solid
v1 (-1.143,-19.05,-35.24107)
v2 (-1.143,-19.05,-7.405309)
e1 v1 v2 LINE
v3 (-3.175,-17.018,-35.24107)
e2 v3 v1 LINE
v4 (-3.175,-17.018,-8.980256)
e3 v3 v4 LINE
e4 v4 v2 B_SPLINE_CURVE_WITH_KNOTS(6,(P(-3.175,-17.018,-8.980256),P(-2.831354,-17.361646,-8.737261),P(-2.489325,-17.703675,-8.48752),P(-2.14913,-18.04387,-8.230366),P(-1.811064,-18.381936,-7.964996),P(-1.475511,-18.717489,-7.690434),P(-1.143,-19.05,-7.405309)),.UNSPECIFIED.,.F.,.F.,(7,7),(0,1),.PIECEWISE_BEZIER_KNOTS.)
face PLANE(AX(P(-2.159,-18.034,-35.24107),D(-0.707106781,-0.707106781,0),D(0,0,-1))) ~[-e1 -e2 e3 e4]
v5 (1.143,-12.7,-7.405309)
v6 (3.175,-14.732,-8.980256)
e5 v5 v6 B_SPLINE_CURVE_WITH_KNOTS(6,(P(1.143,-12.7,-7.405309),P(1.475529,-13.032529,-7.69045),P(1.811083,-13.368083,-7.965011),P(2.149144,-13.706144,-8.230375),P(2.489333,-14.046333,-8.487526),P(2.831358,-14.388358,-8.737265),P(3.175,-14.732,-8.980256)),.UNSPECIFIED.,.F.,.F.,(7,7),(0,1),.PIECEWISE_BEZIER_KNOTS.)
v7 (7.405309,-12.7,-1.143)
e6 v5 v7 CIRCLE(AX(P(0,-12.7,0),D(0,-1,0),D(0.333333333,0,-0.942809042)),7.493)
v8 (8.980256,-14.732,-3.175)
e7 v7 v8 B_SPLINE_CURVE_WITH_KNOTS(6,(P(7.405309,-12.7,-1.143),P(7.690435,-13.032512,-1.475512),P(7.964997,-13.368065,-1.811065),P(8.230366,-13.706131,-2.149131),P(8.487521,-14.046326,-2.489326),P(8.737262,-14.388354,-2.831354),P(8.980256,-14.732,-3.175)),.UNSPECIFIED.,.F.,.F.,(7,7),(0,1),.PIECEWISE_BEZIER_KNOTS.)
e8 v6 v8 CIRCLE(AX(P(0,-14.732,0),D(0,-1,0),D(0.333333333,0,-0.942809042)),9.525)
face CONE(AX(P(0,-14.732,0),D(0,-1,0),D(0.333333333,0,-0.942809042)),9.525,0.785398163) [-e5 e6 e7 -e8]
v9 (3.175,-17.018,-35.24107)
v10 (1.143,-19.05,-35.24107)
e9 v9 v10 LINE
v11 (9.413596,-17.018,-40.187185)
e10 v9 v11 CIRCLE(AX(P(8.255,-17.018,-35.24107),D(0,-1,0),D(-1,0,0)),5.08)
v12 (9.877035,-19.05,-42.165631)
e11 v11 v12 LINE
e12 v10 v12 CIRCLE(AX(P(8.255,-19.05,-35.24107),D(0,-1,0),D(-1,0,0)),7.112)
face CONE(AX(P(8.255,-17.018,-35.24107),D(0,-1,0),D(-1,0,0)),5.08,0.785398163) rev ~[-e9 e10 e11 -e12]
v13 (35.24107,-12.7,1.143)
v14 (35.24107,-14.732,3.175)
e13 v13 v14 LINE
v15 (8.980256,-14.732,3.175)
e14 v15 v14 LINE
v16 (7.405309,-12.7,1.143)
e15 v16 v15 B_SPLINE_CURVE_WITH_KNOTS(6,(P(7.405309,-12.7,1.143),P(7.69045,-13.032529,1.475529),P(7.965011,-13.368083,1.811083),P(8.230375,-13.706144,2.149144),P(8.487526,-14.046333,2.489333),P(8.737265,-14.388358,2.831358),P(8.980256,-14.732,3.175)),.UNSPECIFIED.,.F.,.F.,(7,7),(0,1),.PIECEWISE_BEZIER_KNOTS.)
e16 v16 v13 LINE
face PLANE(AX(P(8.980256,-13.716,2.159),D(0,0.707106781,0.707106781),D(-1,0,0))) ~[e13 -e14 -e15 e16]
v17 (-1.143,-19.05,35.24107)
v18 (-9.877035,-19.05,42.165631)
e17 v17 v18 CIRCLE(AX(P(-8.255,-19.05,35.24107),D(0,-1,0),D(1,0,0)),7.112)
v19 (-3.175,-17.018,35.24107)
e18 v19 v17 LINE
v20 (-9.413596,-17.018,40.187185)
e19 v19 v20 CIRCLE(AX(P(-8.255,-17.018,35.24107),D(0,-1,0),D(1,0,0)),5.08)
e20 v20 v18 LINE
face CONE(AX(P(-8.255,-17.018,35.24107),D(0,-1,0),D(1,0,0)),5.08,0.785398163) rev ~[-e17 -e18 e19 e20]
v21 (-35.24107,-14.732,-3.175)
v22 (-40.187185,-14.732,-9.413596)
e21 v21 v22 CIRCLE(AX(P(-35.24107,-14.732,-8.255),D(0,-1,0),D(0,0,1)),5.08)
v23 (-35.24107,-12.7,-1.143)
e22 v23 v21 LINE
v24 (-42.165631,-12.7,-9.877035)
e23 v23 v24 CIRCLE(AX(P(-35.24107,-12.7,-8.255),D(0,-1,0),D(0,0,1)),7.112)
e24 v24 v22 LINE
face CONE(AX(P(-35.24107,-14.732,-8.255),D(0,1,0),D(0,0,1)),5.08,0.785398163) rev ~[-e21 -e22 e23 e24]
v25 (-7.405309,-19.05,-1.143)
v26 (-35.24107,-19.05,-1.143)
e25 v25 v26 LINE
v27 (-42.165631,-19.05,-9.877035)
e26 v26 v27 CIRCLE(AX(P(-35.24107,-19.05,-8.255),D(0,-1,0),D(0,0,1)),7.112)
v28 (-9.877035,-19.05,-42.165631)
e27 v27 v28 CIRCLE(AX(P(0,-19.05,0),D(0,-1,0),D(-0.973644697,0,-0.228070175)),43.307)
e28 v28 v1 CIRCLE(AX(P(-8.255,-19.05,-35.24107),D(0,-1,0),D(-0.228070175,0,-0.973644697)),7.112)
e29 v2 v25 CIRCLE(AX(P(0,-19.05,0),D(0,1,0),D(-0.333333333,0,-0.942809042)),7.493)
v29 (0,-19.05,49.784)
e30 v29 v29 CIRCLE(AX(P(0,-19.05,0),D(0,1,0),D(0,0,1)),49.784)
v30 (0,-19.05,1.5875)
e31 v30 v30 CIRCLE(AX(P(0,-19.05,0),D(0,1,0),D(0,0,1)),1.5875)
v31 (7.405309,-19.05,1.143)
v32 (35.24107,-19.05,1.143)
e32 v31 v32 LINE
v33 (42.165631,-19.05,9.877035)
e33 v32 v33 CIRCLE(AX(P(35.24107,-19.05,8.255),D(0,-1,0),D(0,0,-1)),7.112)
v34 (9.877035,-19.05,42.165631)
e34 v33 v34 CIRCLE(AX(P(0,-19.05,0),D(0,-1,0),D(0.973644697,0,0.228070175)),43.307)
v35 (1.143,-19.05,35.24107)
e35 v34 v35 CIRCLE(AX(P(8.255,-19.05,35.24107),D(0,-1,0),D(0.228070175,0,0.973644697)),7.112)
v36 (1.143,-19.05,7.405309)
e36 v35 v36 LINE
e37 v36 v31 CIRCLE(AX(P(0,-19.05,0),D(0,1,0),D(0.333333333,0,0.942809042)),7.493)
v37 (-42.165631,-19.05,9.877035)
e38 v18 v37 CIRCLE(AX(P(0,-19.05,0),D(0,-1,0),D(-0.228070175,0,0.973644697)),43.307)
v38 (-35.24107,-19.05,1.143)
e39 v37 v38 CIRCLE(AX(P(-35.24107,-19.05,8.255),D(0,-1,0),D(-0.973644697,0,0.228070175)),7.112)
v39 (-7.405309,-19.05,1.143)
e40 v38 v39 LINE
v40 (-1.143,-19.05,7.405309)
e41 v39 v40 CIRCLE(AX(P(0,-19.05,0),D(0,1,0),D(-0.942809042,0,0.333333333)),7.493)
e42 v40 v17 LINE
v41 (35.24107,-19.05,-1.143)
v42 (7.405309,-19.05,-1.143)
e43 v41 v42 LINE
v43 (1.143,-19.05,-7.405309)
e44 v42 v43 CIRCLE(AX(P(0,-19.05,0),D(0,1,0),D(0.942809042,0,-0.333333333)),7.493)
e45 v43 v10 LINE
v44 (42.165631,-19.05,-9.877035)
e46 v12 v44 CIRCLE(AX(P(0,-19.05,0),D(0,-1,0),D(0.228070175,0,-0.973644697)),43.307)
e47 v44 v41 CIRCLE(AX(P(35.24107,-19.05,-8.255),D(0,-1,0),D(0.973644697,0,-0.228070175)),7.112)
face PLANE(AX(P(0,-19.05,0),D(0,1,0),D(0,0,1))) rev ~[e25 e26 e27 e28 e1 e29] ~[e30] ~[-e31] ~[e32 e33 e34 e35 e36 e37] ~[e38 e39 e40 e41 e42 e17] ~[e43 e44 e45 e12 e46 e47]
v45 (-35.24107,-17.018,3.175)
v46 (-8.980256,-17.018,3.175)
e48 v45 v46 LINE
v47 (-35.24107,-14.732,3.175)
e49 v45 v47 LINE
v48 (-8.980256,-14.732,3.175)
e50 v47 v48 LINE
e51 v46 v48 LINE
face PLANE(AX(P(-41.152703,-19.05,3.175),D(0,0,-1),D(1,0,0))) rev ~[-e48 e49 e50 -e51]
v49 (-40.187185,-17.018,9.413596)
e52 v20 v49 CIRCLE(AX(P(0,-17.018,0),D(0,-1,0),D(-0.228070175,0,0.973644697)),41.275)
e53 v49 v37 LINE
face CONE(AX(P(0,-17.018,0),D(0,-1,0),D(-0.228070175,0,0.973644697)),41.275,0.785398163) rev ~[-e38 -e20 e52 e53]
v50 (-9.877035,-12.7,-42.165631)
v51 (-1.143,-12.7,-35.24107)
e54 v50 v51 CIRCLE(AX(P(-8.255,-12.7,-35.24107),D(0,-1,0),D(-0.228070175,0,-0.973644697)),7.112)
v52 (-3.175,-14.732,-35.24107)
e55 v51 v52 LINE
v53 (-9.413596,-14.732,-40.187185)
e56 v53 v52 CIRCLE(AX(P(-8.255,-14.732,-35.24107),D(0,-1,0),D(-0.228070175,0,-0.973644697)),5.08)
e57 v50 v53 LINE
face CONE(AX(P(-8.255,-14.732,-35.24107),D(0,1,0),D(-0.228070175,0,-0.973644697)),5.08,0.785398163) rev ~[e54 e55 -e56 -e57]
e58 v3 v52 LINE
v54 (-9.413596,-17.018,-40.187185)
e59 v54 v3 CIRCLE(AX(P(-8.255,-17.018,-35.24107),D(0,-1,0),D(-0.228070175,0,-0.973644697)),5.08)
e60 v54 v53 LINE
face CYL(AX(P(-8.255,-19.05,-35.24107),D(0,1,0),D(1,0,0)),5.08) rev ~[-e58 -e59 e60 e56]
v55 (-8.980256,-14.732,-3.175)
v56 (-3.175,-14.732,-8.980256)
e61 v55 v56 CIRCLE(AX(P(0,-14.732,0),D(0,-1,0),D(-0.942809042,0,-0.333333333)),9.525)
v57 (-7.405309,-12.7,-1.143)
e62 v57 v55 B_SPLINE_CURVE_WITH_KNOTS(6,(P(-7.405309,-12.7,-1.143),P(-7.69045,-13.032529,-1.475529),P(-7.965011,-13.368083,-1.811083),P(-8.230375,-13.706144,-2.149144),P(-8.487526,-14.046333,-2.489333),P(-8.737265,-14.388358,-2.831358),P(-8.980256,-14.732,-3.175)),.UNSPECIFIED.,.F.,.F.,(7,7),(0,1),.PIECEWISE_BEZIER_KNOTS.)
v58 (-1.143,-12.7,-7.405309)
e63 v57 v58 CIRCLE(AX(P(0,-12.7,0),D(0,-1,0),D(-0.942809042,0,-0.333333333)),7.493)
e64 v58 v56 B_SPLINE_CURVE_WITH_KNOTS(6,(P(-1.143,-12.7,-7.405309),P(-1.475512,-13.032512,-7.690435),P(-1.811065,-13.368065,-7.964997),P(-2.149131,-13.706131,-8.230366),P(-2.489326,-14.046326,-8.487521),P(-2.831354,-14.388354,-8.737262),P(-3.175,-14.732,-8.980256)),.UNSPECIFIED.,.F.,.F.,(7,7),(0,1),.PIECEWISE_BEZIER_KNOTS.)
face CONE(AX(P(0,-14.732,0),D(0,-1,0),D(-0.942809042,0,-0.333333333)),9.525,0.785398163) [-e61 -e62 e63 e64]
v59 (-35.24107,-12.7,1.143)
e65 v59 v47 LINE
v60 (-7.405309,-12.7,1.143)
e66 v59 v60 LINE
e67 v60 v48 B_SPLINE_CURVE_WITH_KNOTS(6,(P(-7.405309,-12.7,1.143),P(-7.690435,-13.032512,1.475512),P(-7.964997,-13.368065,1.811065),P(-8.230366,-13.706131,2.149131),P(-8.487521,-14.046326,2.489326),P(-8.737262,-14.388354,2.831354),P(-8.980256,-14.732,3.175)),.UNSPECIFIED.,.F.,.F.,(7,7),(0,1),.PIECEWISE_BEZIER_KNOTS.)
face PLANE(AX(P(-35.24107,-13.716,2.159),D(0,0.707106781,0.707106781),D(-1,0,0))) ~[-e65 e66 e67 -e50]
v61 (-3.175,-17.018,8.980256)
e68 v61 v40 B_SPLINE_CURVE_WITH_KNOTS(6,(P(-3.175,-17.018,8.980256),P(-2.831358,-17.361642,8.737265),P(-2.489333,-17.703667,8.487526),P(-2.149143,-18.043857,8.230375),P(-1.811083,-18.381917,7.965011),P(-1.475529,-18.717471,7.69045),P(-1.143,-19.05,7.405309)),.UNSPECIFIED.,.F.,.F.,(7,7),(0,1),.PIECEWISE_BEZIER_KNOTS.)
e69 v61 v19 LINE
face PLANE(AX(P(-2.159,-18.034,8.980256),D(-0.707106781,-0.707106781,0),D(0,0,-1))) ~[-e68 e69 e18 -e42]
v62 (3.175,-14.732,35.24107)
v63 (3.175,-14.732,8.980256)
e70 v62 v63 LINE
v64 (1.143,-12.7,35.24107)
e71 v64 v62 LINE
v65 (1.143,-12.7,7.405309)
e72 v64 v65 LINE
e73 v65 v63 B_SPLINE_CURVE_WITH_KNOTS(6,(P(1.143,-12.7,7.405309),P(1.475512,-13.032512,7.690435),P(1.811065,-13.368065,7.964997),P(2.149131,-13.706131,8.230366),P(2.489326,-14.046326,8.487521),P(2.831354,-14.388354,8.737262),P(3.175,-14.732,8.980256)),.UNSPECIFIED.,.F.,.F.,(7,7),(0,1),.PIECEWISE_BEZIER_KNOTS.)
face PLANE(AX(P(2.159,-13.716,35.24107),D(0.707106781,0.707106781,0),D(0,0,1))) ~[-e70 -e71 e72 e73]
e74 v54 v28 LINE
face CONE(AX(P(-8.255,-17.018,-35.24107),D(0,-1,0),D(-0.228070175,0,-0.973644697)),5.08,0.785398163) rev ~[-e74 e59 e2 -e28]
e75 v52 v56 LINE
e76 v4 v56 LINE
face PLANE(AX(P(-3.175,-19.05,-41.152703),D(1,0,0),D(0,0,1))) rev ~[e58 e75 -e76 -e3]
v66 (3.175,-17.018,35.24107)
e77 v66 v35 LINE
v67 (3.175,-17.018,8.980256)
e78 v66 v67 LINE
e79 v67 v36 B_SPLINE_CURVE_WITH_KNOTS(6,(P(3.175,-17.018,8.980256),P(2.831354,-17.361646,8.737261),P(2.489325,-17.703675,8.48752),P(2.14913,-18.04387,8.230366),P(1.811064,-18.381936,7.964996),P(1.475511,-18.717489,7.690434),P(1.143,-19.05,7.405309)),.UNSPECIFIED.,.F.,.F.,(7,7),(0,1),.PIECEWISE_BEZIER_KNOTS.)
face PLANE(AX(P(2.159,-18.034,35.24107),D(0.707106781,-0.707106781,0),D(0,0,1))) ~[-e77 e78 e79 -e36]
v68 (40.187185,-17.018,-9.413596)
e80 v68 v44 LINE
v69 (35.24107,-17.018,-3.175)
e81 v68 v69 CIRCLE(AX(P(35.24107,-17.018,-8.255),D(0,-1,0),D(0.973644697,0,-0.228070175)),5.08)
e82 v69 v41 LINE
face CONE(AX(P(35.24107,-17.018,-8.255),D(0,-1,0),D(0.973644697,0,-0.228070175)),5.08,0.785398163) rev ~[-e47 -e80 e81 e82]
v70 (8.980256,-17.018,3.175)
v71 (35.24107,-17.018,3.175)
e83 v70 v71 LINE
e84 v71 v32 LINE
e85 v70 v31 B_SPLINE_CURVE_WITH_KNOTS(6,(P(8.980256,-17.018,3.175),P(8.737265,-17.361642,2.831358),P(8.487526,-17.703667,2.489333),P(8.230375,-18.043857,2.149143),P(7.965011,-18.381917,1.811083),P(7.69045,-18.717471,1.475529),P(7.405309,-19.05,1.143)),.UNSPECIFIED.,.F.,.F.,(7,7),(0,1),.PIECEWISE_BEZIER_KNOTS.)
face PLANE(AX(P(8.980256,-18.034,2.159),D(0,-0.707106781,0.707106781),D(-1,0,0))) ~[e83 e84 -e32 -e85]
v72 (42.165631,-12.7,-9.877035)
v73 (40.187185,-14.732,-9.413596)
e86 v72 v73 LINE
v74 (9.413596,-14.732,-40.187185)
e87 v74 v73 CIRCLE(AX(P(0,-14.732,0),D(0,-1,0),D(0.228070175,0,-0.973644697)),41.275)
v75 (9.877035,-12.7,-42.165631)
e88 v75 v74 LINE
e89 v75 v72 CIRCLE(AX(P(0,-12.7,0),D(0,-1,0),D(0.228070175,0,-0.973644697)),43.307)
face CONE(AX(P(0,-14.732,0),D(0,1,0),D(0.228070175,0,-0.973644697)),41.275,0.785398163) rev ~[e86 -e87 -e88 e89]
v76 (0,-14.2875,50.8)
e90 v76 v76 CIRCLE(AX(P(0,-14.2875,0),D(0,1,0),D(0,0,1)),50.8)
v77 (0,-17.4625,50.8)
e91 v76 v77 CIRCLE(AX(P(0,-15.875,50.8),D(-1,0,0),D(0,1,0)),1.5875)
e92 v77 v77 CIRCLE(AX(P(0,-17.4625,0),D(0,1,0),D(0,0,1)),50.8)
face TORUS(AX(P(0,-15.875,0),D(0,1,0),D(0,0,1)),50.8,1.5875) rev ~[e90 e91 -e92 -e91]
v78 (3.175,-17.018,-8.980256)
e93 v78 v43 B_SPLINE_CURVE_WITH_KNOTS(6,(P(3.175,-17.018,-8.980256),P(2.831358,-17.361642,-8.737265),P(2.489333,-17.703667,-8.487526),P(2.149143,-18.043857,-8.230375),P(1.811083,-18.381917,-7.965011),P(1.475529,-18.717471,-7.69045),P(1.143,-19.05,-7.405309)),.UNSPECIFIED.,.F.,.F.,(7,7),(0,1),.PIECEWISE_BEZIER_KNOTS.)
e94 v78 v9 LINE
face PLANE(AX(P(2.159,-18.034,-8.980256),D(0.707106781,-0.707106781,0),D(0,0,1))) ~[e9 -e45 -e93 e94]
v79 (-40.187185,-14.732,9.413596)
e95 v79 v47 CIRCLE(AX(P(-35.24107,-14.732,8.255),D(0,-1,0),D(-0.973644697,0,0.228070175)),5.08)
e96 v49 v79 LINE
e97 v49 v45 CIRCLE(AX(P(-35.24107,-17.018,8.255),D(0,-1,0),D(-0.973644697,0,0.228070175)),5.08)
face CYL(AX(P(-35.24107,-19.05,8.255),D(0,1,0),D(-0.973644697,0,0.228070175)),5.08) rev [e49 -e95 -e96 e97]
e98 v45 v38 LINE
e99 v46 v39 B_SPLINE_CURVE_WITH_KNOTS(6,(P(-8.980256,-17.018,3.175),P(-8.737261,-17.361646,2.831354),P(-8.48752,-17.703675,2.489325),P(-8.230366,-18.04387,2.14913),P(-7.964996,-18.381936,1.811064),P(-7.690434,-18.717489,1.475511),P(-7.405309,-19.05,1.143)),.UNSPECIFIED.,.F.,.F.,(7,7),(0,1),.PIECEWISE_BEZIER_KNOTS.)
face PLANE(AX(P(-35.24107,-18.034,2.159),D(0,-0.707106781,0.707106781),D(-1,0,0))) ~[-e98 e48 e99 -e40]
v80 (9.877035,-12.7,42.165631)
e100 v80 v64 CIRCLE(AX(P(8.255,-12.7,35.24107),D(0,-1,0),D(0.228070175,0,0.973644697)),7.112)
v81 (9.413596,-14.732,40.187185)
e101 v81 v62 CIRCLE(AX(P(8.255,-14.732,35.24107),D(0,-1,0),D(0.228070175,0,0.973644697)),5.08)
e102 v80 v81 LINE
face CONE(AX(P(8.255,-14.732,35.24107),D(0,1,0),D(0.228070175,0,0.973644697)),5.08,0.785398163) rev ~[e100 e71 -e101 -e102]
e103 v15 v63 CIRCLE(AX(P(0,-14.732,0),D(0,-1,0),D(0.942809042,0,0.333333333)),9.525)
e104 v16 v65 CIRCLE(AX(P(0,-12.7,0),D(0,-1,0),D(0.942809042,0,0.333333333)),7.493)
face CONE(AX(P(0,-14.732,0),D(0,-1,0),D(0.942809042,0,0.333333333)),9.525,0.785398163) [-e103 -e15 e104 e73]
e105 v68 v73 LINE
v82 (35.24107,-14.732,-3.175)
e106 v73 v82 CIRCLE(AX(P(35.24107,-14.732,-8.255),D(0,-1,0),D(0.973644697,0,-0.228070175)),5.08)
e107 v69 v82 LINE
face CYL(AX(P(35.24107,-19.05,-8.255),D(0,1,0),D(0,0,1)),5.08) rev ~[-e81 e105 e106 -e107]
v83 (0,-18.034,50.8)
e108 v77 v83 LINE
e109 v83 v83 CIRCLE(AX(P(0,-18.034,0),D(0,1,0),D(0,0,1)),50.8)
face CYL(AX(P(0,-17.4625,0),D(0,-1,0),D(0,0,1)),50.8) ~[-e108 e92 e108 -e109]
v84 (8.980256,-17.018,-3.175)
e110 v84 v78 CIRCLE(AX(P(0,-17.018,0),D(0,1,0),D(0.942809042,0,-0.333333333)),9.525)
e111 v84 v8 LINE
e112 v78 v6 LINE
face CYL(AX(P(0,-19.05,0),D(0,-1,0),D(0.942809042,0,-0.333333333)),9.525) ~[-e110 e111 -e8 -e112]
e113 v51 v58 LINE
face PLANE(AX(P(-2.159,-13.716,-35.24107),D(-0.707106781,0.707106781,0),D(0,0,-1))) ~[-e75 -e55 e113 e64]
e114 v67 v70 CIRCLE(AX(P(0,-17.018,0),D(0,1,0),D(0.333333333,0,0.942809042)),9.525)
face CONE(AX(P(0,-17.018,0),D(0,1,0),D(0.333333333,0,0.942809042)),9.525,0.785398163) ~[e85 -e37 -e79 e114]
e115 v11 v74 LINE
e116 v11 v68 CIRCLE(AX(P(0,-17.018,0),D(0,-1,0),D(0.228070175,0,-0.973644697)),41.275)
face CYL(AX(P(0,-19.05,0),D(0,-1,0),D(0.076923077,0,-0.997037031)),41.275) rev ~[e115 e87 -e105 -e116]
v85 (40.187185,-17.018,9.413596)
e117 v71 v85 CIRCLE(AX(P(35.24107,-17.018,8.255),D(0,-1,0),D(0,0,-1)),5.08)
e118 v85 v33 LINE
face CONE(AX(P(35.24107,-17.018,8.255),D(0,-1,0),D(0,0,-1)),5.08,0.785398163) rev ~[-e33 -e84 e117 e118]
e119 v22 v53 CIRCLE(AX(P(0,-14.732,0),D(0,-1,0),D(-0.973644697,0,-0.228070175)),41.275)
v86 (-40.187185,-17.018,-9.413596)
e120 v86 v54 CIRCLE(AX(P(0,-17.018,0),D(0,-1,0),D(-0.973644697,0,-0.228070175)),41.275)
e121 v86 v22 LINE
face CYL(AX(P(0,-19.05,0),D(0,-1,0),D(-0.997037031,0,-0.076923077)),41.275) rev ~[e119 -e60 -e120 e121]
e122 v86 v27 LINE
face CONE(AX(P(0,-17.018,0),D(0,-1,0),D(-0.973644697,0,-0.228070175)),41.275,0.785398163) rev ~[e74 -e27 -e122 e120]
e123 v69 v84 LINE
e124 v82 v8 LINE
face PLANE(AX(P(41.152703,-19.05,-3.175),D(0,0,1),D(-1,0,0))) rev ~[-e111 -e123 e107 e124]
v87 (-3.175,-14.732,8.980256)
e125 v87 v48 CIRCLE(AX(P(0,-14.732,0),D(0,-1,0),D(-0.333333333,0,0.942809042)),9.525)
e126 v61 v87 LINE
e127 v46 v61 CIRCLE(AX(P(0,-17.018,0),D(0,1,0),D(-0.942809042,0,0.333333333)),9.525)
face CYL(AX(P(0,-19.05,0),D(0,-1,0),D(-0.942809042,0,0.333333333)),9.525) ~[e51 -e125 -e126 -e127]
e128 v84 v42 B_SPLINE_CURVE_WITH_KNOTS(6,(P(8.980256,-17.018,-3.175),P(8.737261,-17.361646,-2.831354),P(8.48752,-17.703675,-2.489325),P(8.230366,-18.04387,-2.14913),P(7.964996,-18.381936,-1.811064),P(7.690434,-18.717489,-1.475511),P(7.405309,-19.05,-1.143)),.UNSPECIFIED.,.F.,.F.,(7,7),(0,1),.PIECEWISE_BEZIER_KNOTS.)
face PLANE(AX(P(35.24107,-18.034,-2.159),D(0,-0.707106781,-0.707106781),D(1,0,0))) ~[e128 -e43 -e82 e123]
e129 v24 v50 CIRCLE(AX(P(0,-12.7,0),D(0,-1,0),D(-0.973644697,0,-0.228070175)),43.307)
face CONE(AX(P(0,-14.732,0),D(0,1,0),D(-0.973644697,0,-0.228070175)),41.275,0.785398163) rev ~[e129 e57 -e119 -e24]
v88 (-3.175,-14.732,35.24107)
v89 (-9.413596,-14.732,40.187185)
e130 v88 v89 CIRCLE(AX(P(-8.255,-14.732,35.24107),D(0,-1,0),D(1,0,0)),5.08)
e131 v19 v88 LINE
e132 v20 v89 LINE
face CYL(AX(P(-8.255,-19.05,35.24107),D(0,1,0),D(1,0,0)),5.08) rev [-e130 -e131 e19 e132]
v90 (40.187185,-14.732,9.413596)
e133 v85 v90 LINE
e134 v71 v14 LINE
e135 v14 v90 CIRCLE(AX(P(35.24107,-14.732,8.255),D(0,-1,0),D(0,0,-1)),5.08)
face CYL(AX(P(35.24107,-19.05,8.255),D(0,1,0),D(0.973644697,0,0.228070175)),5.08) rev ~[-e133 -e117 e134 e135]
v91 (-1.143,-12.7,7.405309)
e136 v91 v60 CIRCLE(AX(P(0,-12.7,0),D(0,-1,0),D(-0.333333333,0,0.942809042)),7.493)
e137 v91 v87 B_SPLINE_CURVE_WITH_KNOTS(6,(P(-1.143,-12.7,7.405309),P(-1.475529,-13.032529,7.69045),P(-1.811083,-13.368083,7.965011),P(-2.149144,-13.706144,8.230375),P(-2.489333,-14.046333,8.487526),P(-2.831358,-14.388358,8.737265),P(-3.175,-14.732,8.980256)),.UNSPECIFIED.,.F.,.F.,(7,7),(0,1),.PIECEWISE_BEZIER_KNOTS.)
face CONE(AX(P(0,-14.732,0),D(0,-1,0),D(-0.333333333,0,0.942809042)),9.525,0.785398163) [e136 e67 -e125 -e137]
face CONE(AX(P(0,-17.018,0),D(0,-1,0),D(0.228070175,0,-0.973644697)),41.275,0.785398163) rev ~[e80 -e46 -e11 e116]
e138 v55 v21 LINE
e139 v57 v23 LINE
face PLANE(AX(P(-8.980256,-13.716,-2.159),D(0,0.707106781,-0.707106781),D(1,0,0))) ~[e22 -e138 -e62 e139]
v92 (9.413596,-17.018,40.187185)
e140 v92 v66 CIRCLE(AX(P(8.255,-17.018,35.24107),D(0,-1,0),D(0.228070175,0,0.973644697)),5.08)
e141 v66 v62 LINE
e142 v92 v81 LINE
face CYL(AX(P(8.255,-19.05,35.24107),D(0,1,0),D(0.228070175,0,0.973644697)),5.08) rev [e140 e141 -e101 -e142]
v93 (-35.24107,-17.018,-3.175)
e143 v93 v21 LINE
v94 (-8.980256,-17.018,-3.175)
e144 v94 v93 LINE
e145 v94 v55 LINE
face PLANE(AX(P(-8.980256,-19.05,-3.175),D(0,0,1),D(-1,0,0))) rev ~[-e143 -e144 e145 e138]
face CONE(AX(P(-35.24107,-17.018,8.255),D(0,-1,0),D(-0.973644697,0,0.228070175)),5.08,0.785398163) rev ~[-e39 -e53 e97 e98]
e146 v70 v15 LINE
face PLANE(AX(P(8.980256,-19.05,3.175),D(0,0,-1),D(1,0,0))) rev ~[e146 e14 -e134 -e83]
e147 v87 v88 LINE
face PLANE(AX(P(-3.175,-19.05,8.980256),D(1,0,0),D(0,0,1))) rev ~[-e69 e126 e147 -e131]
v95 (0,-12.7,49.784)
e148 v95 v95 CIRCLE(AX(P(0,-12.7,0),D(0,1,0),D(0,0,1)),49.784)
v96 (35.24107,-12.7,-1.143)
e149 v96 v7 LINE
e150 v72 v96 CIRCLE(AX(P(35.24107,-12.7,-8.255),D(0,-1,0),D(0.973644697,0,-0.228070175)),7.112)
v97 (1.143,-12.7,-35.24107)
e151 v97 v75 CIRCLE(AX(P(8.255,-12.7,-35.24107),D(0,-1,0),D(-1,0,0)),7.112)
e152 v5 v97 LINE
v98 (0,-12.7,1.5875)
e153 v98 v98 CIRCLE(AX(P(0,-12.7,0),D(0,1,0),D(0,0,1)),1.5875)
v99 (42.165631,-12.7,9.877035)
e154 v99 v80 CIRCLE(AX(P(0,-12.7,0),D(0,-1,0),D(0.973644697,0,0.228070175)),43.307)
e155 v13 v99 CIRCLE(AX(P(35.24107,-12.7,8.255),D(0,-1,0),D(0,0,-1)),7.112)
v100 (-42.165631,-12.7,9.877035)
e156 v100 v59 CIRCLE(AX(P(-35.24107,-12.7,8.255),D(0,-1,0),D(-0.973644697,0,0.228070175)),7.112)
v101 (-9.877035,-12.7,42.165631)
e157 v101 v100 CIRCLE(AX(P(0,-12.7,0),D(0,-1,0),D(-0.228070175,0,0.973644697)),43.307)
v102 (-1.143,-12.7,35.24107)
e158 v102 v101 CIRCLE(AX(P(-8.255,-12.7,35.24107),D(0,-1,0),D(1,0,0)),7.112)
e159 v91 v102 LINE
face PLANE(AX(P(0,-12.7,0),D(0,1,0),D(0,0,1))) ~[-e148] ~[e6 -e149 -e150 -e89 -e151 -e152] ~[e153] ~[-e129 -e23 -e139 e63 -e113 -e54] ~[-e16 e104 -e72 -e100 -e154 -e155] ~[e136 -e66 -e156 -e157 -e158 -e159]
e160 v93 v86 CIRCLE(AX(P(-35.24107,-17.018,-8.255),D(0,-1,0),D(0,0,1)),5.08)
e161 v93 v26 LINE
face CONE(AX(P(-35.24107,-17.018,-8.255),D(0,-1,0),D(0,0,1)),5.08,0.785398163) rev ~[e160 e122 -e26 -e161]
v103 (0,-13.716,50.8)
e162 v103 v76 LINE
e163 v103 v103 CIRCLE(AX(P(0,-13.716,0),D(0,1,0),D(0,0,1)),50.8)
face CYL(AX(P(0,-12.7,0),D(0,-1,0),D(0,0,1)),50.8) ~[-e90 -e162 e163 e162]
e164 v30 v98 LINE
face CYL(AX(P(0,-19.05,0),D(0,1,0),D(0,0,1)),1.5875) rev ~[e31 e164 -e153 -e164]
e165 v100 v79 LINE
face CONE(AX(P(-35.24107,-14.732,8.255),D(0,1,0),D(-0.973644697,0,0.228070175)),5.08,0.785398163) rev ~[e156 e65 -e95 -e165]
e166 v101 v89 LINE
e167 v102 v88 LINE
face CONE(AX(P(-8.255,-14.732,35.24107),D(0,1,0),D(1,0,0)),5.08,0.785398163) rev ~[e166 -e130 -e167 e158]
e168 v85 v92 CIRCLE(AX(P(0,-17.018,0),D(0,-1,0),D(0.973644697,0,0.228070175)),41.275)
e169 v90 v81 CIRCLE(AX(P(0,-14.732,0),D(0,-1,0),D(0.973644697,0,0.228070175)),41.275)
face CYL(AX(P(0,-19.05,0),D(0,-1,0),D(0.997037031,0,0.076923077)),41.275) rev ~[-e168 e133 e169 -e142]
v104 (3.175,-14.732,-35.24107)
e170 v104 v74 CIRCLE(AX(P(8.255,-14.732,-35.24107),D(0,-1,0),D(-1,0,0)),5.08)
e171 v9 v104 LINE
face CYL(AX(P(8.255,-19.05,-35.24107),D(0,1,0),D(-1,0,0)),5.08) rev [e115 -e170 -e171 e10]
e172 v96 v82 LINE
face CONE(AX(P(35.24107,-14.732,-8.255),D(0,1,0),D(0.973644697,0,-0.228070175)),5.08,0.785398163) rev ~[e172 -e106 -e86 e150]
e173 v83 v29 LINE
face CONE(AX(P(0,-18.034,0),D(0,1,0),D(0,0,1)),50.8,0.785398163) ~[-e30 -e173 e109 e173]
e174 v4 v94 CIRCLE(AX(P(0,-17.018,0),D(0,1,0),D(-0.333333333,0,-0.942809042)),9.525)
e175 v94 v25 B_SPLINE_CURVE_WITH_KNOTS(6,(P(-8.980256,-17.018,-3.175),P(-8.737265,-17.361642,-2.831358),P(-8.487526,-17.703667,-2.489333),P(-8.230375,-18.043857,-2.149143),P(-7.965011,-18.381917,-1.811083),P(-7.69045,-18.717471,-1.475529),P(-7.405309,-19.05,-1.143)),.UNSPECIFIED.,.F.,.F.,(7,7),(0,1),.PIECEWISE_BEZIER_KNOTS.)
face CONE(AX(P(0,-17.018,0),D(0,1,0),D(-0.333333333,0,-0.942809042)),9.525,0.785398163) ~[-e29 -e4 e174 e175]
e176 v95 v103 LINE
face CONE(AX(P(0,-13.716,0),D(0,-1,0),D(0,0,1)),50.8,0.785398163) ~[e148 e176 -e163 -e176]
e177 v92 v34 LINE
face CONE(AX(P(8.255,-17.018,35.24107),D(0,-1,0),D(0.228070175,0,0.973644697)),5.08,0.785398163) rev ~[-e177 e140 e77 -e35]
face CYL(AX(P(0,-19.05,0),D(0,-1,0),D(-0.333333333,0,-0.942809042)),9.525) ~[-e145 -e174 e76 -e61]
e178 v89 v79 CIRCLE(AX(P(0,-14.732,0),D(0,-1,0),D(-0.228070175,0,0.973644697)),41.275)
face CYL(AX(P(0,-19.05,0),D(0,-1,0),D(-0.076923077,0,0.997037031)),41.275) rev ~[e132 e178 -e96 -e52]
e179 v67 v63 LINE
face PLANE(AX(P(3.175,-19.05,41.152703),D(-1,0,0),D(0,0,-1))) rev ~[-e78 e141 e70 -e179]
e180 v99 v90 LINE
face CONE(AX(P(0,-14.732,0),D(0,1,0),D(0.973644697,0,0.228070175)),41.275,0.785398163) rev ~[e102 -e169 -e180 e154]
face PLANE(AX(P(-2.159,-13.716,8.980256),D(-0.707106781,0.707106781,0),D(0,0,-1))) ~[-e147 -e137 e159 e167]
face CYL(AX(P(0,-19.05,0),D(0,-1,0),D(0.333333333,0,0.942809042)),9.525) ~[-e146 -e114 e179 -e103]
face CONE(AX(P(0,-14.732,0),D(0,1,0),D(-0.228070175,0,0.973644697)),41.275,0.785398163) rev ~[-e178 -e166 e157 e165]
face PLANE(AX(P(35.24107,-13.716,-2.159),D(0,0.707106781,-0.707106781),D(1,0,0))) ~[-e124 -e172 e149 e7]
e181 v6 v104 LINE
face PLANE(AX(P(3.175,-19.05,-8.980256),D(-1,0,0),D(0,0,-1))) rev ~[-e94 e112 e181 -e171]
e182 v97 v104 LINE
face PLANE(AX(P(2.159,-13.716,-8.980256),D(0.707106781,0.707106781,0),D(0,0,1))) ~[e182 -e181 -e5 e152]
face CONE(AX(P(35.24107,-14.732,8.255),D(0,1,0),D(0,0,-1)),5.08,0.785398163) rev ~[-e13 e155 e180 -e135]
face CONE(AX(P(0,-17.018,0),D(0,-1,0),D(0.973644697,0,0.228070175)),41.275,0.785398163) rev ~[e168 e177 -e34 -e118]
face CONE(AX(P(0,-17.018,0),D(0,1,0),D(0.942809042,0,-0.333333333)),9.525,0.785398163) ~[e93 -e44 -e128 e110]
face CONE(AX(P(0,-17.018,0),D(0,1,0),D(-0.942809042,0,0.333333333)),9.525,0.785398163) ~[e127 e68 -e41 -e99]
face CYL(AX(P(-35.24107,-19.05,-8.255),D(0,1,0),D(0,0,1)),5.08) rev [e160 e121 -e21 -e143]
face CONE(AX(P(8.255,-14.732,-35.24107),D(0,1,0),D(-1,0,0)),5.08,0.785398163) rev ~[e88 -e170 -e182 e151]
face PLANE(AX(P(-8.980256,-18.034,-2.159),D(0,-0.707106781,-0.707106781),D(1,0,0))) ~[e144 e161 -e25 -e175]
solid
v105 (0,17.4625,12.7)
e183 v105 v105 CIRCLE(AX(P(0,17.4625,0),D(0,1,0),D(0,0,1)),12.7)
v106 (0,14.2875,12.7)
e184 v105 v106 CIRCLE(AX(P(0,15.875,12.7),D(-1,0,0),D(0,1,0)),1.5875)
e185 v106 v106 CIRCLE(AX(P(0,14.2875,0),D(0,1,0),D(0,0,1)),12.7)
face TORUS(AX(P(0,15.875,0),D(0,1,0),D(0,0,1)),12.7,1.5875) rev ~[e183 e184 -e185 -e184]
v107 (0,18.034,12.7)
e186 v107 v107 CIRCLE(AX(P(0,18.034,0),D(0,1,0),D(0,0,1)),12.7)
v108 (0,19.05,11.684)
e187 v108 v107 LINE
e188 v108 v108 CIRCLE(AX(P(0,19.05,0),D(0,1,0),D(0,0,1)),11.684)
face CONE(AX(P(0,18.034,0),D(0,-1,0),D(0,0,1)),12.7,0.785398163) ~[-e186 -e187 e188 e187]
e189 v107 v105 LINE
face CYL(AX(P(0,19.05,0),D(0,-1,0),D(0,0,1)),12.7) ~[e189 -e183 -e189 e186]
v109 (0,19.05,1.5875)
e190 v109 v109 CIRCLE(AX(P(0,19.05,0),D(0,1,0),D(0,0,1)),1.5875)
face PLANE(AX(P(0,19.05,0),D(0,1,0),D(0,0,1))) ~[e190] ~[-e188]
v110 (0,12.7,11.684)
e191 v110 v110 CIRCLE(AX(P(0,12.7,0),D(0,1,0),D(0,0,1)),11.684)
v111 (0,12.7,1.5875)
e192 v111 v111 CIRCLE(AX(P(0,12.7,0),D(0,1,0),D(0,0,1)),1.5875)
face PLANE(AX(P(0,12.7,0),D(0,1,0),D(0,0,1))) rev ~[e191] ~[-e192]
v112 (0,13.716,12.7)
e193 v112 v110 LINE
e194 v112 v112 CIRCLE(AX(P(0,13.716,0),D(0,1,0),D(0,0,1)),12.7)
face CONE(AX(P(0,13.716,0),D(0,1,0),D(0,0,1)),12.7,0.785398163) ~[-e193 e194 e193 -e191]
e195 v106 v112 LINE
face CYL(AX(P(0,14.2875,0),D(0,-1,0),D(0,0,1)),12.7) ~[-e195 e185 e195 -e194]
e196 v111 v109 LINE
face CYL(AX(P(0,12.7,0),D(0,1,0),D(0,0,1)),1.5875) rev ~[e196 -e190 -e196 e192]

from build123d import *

# Parameters (mm, degrees)
F2_SIZE   = 1.016
F2_2_SIZE = 1.016
F4_DEPTH  = 25.4
F5_R      = 5.08
F6_SIZE   = 2.032


with BuildPart() as f1:
    # F0 (on Right) → F1 (revolve)
    with BuildSketch(Plane.YZ):
        with BuildLine():
            Line((12.7, 1.5875), (19.05, 1.5875))
            Line((19.05, 1.5875), (19.05, 12.7))
            Line((19.05, 12.7), (17.4625, 12.7))
            ThreePointArc((17.4625, 12.7), (15.875, 11.1125), (14.2875, 12.7))
            Line((14.2875, 12.7), (12.7, 12.7))
            Line((12.7, 12.7), (12.7, 1.5875))
        make_face()
    revolve(axis=Axis((0, 16.8133024126, 0), (0, 1, 0)))

    # F2
    f2_edges = [f1.edges().sort_by_distance(p)[0] for p in [
        (0, 19.05, -12.7),
        (0, 12.7, -12.7),
    ]]
    chamfer(f2_edges, length=F2_SIZE)


with BuildPart() as f1b:
    # F0 (on Right) → F1, piece 2 (revolve)
    with BuildSketch(Plane.YZ):
        with BuildLine():
            Line((-19.05, 1.5875), (-12.7, 1.5875))
            Line((-12.7, 1.5875), (-12.7, 50.8))
            Line((-12.7, 50.8), (-14.2875, 50.8))
            ThreePointArc((-14.2875, 50.8), (-15.875, 49.2125), (-17.4625, 50.8))
            Line((-17.4625, 50.8), (-19.05, 50.8))
            Line((-19.05, 50.8), (-19.05, 1.5875))
        make_face()
    revolve(axis=Axis((0, 16.8133024126, 0), (0, 1, 0)))

    # F2#2
    f2_2_edges = [f1b.edges().sort_by_distance(p)[0] for p in [
        (0, -12.7, -50.8),
        (0, -19.05, -50.8),
    ]]
    chamfer(f2_2_edges, length=F2_2_SIZE)

    # F3 (on face) → F4 (cut)
    with BuildSketch(Plane.XZ.offset(19.05)):
        with BuildLine():
            ThreePointArc((-8.9802561211, 3.175), (-6.7351920908, 6.7351920908), (-3.175, 8.9802561211))
            Line((-3.175, 8.9802561211), (-3.175, 41.1527034349))
            ThreePointArc((-3.175, 41.1527034349), (-29.1858323935, 29.1858323935), (-41.1527034349, 3.175))
            Line((-41.1527034349, 3.175), (-8.9802561211, 3.175))
        make_face()
        with BuildLine():
            ThreePointArc((41.1527034349, 3.175), (29.1858323935, 29.1858323935), (3.175, 41.1527034349))
            Line((3.175, 41.1527034349), (3.175, 8.9802561211))
            ThreePointArc((3.175, 8.9802561211), (6.7351920908, 6.7351920908), (8.9802561211, 3.175))
            Line((8.9802561211, 3.175), (41.1527034349, 3.175))
        make_face()
        with BuildLine():
            Line((41.1527034349, -3.175), (8.9802561211, -3.175))
            ThreePointArc((8.9802561211, -3.175), (6.7351920908, -6.7351920908), (3.175, -8.9802561211))
            Line((3.175, -8.9802561211), (3.175, -41.1527034349))
            ThreePointArc((3.175, -41.1527034349), (29.1858323935, -29.1858323935), (41.1527034349, -3.175))
        make_face()
        with BuildLine():
            Line((-3.175, -41.1527034349), (-3.175, -8.9802561211))
            ThreePointArc((-3.175, -8.9802561211), (-6.7351920908, -6.7351920908), (-8.9802561211, -3.175))
            Line((-8.9802561211, -3.175), (-41.1527034349, -3.175))
            ThreePointArc((-41.1527034349, -3.175), (-29.1858323935, -29.1858323935), (-3.175, -41.1527034349))
        make_face()
    extrude(amount=-F4_DEPTH, mode=Mode.SUBTRACT)

    # F5
    f5_edges = [f1b.edges().sort_by_distance(p)[0] for p in [
        (-3.175, -15.875, 41.152703),
        (3.175, -15.875, 41.152703),
        (41.152703, -15.875, 3.175),
        (41.152703, -15.875, -3.175),
        (3.175, -15.875, -41.152703),
        (-3.175, -15.875, -41.152703),
        (-41.152703, -15.875, -3.175),
        (-41.152703, -15.875, 3.175),
    ]]
    fillet(f5_edges, radius=F5_R)

    # F6
    f6_edges = [f1b.edges().sort_by_distance(p)[0] for p in [
        (-22.110663, -19.05, -3.175),
        (-29.185832, -19.05, 29.185832),
        (29.185832, -19.05, 29.185832),
        (29.185832, -19.05, -29.185832),
        (22.110663, -12.7, -3.175),
        (22.110663, -12.7, 3.175),
        (-29.185832, -12.7, 29.185832),
        (-22.110663, -12.7, -3.175),
        (-6.735192, -12.7, 6.735192),
        (6.735192, -12.7, 6.735192),
        (6.735192, -12.7, -6.735192),
        (-6.735192, -12.7, -6.735192),
        (6.735192, -19.05, 6.735192),
        (-6.735192, -19.05, 6.735192),
        (-6.735192, -19.05, -6.735192),
        (6.735192, -19.05, -6.735192),
    ]]
    chamfer(f6_edges, length=F6_SIZE)


solid = Compound([f1.part, f1b.part])
